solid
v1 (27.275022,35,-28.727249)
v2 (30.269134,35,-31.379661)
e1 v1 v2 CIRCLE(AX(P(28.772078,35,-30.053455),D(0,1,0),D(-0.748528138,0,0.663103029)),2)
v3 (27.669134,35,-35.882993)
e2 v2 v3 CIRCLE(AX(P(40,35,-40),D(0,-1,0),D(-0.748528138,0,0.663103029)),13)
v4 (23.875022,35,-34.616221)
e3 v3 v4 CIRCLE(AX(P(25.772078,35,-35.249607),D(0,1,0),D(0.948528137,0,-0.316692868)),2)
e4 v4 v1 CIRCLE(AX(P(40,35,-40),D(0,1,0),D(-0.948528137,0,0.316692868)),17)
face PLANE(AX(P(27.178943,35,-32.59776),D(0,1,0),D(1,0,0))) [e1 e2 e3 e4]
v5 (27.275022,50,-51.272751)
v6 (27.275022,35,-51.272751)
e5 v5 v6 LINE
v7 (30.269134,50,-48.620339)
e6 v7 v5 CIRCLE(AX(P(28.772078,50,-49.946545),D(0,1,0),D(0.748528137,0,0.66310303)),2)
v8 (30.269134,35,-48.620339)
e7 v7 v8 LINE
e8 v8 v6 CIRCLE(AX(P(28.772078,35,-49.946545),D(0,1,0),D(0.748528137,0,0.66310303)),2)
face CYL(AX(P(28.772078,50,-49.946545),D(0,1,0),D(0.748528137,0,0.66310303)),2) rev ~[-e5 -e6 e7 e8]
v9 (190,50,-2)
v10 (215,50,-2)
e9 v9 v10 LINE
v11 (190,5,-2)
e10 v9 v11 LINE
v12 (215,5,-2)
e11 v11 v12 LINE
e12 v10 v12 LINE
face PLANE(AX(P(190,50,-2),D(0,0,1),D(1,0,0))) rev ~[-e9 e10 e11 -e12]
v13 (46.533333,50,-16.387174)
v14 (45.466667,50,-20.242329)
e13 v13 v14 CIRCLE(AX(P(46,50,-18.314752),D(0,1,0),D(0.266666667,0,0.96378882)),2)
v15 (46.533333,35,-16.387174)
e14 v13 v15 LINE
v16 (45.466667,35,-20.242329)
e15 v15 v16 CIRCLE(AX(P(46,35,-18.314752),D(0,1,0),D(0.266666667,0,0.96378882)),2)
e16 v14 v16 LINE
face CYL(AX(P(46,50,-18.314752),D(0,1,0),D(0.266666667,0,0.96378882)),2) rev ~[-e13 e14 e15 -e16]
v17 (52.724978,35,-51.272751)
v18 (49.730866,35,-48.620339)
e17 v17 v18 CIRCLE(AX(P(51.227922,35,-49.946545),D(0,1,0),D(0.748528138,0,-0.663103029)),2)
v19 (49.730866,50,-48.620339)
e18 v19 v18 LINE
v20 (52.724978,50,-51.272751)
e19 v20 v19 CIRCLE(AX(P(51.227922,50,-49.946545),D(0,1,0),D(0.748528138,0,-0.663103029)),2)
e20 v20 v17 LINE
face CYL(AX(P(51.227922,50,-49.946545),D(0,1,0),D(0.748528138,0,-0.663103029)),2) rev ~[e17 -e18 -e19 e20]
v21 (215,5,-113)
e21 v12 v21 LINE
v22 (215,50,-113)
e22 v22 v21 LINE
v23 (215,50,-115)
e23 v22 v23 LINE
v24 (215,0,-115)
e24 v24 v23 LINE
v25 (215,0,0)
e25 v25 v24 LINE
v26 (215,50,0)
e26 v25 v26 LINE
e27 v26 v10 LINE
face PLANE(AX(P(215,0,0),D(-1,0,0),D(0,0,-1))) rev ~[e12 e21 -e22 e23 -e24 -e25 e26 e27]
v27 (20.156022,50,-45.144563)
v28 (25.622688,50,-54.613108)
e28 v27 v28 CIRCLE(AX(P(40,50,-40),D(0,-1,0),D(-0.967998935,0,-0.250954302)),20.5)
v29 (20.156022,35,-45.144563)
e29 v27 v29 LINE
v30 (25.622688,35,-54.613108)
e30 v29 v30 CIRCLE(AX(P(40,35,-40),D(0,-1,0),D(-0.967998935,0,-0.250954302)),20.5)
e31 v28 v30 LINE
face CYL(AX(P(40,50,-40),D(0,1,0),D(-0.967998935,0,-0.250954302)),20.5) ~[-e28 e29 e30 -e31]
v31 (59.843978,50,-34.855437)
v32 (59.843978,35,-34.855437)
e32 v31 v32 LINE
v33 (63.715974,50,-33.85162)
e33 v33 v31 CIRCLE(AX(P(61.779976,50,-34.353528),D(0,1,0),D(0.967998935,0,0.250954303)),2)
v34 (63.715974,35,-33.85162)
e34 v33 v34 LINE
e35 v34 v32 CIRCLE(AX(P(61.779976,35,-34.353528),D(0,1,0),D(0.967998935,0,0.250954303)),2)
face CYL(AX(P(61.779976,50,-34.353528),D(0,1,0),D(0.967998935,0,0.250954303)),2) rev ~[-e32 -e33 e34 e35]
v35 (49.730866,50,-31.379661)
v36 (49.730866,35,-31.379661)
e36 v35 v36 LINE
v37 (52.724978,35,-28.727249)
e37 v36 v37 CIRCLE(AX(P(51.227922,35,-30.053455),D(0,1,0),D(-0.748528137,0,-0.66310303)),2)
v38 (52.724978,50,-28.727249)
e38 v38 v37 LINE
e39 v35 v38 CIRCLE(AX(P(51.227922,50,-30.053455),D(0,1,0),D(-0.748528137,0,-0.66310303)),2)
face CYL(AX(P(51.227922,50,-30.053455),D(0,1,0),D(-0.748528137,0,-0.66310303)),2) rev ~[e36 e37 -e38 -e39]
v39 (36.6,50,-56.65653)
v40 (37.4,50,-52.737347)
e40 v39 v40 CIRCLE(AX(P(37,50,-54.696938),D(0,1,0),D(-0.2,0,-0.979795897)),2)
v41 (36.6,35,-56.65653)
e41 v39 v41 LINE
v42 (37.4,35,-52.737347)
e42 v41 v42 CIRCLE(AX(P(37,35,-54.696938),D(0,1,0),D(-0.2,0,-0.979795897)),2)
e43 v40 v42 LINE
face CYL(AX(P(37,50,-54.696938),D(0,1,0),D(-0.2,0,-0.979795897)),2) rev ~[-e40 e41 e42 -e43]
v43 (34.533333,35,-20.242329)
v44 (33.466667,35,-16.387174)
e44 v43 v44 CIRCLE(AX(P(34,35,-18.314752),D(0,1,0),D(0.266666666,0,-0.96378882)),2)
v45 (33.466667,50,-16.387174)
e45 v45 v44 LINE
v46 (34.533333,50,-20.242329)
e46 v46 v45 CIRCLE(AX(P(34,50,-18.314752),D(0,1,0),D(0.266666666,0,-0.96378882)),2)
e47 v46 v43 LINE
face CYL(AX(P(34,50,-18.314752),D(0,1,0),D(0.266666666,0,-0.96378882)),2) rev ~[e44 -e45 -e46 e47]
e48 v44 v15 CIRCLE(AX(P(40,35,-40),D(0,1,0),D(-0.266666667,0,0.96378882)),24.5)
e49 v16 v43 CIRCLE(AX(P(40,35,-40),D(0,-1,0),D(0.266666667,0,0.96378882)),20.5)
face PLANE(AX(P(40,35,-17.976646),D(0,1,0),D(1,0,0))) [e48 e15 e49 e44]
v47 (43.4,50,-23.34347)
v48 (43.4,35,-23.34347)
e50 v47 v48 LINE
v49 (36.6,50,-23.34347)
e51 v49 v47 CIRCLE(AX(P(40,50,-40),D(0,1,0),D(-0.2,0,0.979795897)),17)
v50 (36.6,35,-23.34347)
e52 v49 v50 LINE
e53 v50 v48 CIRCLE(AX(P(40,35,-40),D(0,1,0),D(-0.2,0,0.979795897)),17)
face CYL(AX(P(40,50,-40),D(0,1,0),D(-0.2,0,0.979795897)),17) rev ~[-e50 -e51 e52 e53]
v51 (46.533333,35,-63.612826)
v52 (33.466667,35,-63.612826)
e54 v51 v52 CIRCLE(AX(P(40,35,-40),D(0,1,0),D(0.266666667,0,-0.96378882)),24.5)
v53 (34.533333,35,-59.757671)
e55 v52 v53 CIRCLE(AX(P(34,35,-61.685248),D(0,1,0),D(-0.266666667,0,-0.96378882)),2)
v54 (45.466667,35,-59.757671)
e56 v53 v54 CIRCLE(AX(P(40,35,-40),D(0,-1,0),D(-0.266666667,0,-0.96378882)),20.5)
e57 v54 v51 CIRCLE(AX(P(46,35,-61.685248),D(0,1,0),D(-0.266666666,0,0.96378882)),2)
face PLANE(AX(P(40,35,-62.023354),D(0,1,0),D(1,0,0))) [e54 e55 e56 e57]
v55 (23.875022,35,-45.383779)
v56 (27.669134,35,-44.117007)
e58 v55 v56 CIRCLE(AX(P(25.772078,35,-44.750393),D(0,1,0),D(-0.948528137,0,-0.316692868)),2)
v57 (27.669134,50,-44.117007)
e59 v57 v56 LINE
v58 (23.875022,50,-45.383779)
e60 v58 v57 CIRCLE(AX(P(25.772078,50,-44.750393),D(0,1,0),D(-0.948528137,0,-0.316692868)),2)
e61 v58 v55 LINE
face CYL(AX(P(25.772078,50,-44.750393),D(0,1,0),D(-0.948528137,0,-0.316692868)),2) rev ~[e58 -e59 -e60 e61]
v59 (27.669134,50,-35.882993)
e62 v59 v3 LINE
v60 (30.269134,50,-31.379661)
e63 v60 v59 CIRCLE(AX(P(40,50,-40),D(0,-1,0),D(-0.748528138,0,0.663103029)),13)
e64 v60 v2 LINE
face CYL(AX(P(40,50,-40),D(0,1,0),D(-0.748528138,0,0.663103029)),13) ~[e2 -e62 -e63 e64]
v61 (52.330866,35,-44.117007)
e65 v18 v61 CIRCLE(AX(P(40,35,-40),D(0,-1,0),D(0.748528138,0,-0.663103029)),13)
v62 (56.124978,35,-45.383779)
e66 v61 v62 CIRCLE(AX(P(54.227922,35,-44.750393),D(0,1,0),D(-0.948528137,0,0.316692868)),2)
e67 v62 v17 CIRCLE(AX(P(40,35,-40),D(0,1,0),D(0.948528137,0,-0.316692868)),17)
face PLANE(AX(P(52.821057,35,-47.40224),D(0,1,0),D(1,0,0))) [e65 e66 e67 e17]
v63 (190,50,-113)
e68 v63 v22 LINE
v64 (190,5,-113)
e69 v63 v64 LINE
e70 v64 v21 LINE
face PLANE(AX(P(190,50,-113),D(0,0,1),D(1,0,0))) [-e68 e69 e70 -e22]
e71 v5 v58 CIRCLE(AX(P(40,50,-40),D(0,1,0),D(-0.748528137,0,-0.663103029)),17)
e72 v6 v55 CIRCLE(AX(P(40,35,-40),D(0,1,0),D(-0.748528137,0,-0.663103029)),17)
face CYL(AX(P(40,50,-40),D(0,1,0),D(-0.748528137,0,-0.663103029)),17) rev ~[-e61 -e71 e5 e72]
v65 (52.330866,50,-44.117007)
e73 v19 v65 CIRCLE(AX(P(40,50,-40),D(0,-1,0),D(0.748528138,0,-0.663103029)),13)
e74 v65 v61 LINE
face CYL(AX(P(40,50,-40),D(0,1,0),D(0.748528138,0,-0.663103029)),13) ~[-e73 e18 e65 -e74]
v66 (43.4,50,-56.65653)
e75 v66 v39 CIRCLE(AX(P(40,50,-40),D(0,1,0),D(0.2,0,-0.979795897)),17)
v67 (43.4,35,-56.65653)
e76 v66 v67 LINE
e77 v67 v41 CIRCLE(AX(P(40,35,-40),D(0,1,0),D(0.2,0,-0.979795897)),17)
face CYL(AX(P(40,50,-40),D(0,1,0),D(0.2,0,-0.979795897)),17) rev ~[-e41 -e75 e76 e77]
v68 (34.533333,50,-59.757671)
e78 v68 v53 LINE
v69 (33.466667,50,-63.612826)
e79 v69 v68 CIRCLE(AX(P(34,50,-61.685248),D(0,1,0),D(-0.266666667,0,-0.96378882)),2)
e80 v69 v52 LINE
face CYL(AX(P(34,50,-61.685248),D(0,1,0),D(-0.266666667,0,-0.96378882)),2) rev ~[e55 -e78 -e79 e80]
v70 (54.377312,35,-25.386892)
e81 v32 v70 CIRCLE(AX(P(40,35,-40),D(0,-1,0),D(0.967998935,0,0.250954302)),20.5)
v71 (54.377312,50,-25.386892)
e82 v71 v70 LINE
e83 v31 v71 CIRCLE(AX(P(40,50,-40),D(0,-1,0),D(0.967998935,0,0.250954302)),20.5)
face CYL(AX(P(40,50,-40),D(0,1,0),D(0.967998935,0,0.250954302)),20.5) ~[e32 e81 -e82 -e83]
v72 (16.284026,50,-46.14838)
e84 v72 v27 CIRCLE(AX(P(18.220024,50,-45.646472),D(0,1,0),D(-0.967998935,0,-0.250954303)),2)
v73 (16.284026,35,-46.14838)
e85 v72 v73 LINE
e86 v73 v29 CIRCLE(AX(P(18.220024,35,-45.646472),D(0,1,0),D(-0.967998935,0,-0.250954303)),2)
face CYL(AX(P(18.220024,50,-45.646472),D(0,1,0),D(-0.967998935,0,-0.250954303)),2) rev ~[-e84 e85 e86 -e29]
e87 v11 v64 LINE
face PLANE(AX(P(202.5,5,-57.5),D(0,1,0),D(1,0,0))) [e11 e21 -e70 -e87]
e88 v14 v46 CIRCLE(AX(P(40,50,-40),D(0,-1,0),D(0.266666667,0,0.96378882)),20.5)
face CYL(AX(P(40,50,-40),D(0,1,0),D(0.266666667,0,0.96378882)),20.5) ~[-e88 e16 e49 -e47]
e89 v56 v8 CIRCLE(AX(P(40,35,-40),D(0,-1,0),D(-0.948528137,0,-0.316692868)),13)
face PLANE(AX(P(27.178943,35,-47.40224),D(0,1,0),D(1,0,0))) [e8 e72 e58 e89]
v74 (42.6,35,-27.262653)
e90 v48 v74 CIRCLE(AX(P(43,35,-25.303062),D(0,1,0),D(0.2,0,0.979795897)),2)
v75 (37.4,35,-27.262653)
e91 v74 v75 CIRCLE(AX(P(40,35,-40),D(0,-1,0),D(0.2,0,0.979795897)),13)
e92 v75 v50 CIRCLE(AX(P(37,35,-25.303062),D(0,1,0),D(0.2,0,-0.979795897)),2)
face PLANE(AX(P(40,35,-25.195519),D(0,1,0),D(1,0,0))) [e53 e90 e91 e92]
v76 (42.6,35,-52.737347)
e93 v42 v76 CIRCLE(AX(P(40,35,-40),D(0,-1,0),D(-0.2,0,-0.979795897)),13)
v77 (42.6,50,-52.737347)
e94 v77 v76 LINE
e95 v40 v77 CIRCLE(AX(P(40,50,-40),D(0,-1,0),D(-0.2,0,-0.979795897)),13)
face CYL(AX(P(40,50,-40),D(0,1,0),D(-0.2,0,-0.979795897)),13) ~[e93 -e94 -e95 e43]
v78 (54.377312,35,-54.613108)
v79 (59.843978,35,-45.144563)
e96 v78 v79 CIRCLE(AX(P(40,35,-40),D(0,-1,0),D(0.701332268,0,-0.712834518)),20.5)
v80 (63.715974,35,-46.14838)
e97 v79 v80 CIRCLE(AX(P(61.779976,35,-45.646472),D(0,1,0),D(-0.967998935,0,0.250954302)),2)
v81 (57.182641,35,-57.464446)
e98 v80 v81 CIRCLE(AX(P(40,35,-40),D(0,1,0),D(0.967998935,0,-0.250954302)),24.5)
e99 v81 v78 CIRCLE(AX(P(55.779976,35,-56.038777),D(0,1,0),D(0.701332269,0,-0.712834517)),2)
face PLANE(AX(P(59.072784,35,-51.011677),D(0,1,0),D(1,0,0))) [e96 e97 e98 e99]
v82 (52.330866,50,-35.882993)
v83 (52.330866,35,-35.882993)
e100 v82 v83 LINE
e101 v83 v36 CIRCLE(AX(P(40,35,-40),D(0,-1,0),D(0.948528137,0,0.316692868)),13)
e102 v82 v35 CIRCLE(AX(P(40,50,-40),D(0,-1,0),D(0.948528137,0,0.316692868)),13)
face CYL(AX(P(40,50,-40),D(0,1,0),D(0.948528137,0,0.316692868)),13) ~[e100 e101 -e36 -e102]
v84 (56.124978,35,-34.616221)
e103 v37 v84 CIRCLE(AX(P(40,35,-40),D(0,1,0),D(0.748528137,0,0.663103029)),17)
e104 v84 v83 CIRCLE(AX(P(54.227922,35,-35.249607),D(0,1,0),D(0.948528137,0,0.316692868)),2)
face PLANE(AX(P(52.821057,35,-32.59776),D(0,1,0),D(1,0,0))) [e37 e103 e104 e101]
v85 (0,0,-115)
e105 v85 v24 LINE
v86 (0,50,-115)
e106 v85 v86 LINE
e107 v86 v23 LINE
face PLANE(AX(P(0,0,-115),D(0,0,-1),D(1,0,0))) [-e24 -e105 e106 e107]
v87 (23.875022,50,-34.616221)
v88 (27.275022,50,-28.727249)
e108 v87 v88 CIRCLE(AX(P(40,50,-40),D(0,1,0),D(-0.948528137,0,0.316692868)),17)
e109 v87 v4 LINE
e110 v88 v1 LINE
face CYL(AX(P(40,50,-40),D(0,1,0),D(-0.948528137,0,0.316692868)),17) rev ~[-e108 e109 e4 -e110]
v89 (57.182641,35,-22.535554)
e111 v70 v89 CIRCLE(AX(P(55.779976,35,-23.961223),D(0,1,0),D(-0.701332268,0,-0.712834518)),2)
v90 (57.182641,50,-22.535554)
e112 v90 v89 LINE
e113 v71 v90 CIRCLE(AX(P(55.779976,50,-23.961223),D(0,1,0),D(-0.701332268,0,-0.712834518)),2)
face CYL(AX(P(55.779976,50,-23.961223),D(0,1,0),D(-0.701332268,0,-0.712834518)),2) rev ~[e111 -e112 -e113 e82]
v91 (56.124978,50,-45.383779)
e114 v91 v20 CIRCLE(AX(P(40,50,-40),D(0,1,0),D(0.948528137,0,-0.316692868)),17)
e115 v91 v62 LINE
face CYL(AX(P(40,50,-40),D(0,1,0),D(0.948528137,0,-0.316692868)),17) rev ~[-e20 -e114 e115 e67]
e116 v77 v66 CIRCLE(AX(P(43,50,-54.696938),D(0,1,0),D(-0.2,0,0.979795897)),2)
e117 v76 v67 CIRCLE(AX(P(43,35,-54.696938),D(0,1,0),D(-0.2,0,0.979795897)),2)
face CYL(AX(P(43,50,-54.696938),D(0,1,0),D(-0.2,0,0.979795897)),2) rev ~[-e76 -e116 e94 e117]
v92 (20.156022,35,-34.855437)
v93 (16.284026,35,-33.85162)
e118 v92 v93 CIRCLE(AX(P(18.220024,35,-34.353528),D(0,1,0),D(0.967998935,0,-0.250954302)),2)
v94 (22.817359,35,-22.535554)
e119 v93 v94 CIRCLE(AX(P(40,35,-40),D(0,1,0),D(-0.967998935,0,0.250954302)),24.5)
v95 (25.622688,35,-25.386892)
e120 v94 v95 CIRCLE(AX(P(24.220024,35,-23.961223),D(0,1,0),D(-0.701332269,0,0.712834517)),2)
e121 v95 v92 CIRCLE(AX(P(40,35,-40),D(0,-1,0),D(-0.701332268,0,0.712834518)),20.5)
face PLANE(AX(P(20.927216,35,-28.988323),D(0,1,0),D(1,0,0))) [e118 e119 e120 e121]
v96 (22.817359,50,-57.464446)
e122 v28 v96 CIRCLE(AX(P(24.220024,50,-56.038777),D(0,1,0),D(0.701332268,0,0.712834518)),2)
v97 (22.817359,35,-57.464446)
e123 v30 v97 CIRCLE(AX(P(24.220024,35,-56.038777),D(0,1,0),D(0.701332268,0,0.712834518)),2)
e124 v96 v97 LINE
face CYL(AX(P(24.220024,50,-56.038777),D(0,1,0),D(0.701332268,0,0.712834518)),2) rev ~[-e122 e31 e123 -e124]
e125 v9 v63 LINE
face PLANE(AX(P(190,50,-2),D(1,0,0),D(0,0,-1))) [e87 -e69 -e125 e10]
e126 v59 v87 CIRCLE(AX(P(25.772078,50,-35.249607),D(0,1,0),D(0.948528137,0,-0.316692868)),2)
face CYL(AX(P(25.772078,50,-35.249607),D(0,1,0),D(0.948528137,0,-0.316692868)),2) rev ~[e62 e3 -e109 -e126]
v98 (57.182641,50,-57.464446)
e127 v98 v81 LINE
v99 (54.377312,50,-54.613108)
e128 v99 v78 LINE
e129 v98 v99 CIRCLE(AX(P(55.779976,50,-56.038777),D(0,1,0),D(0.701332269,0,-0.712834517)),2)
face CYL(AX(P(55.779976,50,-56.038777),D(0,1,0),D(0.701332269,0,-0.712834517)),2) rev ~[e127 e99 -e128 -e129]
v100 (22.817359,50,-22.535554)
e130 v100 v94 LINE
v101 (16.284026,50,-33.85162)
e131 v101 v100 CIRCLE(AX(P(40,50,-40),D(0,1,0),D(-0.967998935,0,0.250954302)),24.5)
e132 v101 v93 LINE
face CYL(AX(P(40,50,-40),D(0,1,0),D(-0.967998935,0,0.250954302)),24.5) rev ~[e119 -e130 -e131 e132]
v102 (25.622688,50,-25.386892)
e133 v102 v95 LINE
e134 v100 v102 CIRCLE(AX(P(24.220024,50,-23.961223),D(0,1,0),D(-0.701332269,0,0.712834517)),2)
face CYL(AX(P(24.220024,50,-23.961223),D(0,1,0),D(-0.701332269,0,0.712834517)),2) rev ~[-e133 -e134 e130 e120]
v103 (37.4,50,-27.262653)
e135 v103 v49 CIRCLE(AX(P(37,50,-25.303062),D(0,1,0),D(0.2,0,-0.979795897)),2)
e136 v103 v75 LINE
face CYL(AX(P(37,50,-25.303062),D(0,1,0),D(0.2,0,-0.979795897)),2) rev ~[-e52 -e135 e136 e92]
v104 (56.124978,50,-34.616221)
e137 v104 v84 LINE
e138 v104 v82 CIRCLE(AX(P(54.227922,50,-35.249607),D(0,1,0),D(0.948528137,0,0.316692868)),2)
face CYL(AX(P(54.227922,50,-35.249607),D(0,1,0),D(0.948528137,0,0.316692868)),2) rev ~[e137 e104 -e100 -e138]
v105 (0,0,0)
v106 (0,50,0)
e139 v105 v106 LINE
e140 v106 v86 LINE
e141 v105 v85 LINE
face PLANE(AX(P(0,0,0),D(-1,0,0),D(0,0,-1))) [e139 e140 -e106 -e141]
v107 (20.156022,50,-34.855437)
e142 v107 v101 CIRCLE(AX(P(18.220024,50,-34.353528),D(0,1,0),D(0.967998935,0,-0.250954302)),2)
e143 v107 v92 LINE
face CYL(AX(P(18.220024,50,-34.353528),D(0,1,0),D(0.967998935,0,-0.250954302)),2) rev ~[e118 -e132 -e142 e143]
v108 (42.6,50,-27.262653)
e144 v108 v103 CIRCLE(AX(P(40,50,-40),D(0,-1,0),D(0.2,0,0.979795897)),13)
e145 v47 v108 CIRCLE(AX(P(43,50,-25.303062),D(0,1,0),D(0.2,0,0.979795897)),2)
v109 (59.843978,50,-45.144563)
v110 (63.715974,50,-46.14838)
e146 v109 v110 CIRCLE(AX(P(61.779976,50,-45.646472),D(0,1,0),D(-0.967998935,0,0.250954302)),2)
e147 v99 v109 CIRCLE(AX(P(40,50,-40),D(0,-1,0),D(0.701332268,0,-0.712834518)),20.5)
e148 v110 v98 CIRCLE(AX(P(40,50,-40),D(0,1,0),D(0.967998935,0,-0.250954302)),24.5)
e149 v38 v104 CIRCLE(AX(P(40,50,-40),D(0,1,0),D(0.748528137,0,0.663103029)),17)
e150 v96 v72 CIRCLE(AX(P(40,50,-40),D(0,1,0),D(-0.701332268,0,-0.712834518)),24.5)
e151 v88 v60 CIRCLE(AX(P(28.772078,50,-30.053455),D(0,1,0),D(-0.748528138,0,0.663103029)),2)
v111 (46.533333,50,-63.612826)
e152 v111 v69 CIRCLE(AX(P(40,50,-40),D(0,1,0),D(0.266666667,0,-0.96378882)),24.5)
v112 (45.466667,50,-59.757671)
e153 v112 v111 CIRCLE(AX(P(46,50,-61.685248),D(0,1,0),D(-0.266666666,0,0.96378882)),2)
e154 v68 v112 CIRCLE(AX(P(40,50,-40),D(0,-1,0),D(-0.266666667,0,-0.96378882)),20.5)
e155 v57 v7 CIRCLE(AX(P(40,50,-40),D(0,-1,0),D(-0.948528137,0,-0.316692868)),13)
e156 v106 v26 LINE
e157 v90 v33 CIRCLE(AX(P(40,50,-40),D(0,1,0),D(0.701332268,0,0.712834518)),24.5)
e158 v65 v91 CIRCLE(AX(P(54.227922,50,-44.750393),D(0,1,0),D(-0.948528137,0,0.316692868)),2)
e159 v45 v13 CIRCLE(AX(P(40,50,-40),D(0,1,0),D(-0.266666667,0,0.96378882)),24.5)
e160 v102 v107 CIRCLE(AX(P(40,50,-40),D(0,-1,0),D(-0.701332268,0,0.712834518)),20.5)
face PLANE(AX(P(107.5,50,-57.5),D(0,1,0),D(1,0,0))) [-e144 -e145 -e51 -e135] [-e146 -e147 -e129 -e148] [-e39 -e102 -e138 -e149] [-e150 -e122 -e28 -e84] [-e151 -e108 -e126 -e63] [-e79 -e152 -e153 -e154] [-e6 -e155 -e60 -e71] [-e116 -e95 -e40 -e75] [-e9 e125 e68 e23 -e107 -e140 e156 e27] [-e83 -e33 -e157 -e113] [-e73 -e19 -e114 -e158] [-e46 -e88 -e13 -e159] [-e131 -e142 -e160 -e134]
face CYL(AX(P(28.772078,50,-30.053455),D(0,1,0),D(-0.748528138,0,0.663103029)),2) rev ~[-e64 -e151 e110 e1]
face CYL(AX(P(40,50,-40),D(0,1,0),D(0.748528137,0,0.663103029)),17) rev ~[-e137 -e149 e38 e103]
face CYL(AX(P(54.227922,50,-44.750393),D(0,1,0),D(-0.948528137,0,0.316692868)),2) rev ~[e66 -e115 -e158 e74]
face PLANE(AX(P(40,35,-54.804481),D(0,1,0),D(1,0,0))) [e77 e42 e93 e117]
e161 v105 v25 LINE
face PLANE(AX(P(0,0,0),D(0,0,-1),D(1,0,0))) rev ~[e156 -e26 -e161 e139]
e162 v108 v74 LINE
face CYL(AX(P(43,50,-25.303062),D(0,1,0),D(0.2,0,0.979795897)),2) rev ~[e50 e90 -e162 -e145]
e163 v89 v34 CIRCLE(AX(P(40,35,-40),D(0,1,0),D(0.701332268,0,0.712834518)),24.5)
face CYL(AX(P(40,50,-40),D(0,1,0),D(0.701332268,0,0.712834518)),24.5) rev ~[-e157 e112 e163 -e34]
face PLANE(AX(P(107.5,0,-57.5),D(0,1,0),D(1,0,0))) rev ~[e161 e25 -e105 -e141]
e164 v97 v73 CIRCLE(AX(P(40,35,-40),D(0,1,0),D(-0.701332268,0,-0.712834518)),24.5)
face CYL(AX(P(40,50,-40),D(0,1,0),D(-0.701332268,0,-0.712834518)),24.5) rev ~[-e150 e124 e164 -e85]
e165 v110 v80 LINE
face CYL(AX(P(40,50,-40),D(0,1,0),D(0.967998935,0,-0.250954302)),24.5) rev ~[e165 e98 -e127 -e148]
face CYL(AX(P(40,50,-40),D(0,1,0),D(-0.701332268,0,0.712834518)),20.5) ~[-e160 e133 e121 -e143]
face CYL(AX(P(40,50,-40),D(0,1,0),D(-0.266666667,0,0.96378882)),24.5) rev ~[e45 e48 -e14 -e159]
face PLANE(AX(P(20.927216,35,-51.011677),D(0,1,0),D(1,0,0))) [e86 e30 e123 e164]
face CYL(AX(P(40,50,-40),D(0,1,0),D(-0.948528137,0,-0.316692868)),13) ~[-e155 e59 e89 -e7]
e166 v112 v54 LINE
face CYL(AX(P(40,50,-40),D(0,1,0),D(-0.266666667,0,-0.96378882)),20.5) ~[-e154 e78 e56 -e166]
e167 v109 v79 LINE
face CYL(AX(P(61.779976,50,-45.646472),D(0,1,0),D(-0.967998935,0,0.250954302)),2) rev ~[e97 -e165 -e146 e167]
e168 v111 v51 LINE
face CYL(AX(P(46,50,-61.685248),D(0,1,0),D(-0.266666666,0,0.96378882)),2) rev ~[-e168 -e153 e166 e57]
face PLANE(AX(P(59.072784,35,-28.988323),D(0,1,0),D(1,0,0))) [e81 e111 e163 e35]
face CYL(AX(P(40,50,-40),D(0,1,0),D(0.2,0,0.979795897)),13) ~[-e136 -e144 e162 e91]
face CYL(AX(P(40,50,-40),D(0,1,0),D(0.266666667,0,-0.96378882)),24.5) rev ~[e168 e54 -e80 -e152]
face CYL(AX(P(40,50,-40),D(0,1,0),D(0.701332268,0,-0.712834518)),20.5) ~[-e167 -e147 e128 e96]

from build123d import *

# Parameters (mm, degrees)
SKETCH_1_W          = 215
SKETCH_1_H          = 115
EXTRUDE_1_DEPTH     = 50
SKETCH_2_W          = 25
SKETCH_2_H          = 111
CUT_EXTRUDE_1_DEPTH = 45
CUT_EXTRUDE_3_DEPTH = 15


with BuildPart() as part:
    # Эскиз1 → Бобышка-Вытянуть1 (new body)
    with BuildSketch(Plane(origin=(0, 0, 0), x_dir=(1, 0, 0), z_dir=(0, 1, 0))):
        with Locations((107.5, 57.5)):
            Rectangle(SKETCH_1_W, SKETCH_1_H)
    extrude(amount=EXTRUDE_1_DEPTH)

    # Эскиз2 → Вырез-Вытянуть1 (cut)
    with BuildSketch(Plane(origin=(0, 50, 0), x_dir=(1, 0, 0), z_dir=(0, 1, 0))):
        with Locations((202.5, 57.5)):
            Rectangle(SKETCH_2_W, SKETCH_2_H)
    extrude(amount=-CUT_EXTRUDE_1_DEPTH, mode=Mode.SUBTRACT)

    # Эскиз3 → Вырез-Вытянуть3 (cut)
    with BuildSketch(Plane(origin=(0, 50, 0), x_dir=(1, 0, 0), z_dir=(0, 1, 0))):
        with BuildLine():
            ThreePointArc((36.6, 23.343469749), (40, 23), (43.4, 23.343469749))
            ThreePointArc((43.4, 23.343469749), (44.959591794, 25.703061543), (42.6, 27.262653338))
            ThreePointArc((42.6, 27.262653338), (40, 27), (37.4, 27.262653338))
            ThreePointArc((37.4, 27.262653338), (35.040408206, 25.703061543), (36.6, 23.343469749))
        make_face()
        with BuildLine():
            ThreePointArc((23.875021664, 34.616221247), (25.277568136, 31.5), (27.275021664, 28.727248502))
            ThreePointArc((27.275021664, 28.727248502), (30.098283997, 28.556398285), (30.269134213, 31.379660619))
            ThreePointArc((30.269134213, 31.379660619), (28.741669751, 33.5), (27.669134213, 35.882992719))
            ThreePointArc((27.669134213, 35.882992719), (25.138692203, 37.146663258), (23.875021664, 34.616221247))
        make_face()
        with BuildLine():
            ThreePointArc((27.275021664, 51.272751498), (25.277568136, 48.5), (23.875021664, 45.383778753))
            ThreePointArc((23.875021664, 45.383778753), (25.138692203, 42.853336742), (27.669134213, 44.117007281))
            ThreePointArc((27.669134213, 44.117007281), (28.741669751, 46.5), (30.269134213, 48.620339381))
            ThreePointArc((30.269134213, 48.620339381), (30.098283997, 51.443601715), (27.275021664, 51.272751498))
        make_face()
        with BuildLine():
            ThreePointArc((43.4, 56.656530251), (40, 57), (36.6, 56.656530251))
            ThreePointArc((36.6, 56.656530251), (35.040408206, 54.296938457), (37.4, 52.737346662))
            ThreePointArc((37.4, 52.737346662), (40, 53), (42.6, 52.737346662))
            ThreePointArc((42.6, 52.737346662), (44.959591794, 54.296938457), (43.4, 56.656530251))
        make_face()
        with BuildLine():
            ThreePointArc((56.124978336, 45.383778753), (54.722431864, 48.5), (52.724978336, 51.272751498))
            ThreePointArc((52.724978336, 51.272751498), (49.901716003, 51.443601715), (49.730865787, 48.620339381))
            ThreePointArc((49.730865787, 48.620339381), (51.258330249, 46.5), (52.330865787, 44.117007281))
            ThreePointArc((52.330865787, 44.117007281), (54.861307797, 42.853336742), (56.124978336, 45.383778753))
        make_face()
        with BuildLine():
            ThreePointArc((52.724978336, 28.727248502), (54.722431864, 31.5), (56.124978336, 34.616221247))
            ThreePointArc((56.124978336, 34.616221247), (54.861307797, 37.146663258), (52.330865787, 35.882992719))
            ThreePointArc((52.330865787, 35.882992719), (51.258330249, 33.5), (49.730865787, 31.379660619))
            ThreePointArc((49.730865787, 31.379660619), (49.901716003, 28.556398285), (52.724978336, 28.727248502))
        make_face()
        with BuildLine():
            ThreePointArc((33.466666667, 16.387173918), (40, 15.5), (46.533333333, 16.387173918))
            ThreePointArc((46.533333333, 16.387173918), (47.927577639, 18.848084891), (45.466666667, 20.242329197))
            ThreePointArc((45.466666667, 20.242329197), (40, 19.5), (34.533333333, 20.242329197))
            ThreePointArc((34.533333333, 20.242329197), (32.072422361, 18.848084891), (33.466666667, 16.387173918))
        make_face()
        with BuildLine():
            ThreePointArc((16.284026092, 33.851619597), (18.782377607, 27.75), (22.817359425, 22.535554321))
            ThreePointArc((22.817359425, 22.535554321), (25.645692997, 22.558558819), (25.622688498, 25.386892391))
            ThreePointArc((25.622688498, 25.386892391), (22.246479222, 29.75), (20.156021832, 34.855436806))
            ThreePointArc((20.156021832, 34.855436806), (17.718115357, 36.289526072), (16.284026092, 33.851619597))
        make_face()
        with BuildLine():
            ThreePointArc((22.817359425, 57.464445679), (18.782377607, 52.25), (16.284026092, 46.148380403))
            ThreePointArc((16.284026092, 46.148380403), (17.718115357, 43.710473928), (20.156021832, 45.144563194))
            ThreePointArc((20.156021832, 45.144563194), (22.246479222, 50.25), (25.622688498, 54.613107609))
            ThreePointArc((25.622688498, 54.613107609), (25.645692997, 57.441441181), (22.817359425, 57.464445679))
        make_face()
        with BuildLine():
            ThreePointArc((46.533333333, 63.612826082), (40, 64.5), (33.466666667, 63.612826082))
            ThreePointArc((33.466666667, 63.612826082), (32.072422361, 61.151915109), (34.533333333, 59.757670803))
            ThreePointArc((34.533333333, 59.757670803), (40, 60.5), (45.466666667, 59.757670803))
            ThreePointArc((45.466666667, 59.757670803), (47.927577639, 61.151915109), (46.533333333, 63.612826082))
        make_face()
        with BuildLine():
            ThreePointArc((63.715973908, 46.148380403), (61.217622393, 52.25), (57.182640575, 57.464445679))
            ThreePointArc((57.182640575, 57.464445679), (54.354307003, 57.441441181), (54.377311502, 54.613107609))
            ThreePointArc((54.377311502, 54.613107609), (57.753520778, 50.25), (59.843978168, 45.144563194))
            ThreePointArc((59.843978168, 45.144563194), (62.281884643, 43.710473928), (63.715973908, 46.148380403))
        make_face()
        with BuildLine():
            ThreePointArc((57.182640575, 22.535554321), (61.217622393, 27.75), (63.715973908, 33.851619597))
            ThreePointArc((63.715973908, 33.851619597), (62.281884643, 36.289526072), (59.843978168, 34.855436806))
            ThreePointArc((59.843978168, 34.855436806), (57.753520778, 29.75), (54.377311502, 25.386892391))
            ThreePointArc((54.377311502, 25.386892391), (54.354307003, 22.558558819), (57.182640575, 22.535554321))
        make_face()
    extrude(amount=-CUT_EXTRUDE_3_DEPTH, mode=Mode.SUBTRACT)


solid = part.part
